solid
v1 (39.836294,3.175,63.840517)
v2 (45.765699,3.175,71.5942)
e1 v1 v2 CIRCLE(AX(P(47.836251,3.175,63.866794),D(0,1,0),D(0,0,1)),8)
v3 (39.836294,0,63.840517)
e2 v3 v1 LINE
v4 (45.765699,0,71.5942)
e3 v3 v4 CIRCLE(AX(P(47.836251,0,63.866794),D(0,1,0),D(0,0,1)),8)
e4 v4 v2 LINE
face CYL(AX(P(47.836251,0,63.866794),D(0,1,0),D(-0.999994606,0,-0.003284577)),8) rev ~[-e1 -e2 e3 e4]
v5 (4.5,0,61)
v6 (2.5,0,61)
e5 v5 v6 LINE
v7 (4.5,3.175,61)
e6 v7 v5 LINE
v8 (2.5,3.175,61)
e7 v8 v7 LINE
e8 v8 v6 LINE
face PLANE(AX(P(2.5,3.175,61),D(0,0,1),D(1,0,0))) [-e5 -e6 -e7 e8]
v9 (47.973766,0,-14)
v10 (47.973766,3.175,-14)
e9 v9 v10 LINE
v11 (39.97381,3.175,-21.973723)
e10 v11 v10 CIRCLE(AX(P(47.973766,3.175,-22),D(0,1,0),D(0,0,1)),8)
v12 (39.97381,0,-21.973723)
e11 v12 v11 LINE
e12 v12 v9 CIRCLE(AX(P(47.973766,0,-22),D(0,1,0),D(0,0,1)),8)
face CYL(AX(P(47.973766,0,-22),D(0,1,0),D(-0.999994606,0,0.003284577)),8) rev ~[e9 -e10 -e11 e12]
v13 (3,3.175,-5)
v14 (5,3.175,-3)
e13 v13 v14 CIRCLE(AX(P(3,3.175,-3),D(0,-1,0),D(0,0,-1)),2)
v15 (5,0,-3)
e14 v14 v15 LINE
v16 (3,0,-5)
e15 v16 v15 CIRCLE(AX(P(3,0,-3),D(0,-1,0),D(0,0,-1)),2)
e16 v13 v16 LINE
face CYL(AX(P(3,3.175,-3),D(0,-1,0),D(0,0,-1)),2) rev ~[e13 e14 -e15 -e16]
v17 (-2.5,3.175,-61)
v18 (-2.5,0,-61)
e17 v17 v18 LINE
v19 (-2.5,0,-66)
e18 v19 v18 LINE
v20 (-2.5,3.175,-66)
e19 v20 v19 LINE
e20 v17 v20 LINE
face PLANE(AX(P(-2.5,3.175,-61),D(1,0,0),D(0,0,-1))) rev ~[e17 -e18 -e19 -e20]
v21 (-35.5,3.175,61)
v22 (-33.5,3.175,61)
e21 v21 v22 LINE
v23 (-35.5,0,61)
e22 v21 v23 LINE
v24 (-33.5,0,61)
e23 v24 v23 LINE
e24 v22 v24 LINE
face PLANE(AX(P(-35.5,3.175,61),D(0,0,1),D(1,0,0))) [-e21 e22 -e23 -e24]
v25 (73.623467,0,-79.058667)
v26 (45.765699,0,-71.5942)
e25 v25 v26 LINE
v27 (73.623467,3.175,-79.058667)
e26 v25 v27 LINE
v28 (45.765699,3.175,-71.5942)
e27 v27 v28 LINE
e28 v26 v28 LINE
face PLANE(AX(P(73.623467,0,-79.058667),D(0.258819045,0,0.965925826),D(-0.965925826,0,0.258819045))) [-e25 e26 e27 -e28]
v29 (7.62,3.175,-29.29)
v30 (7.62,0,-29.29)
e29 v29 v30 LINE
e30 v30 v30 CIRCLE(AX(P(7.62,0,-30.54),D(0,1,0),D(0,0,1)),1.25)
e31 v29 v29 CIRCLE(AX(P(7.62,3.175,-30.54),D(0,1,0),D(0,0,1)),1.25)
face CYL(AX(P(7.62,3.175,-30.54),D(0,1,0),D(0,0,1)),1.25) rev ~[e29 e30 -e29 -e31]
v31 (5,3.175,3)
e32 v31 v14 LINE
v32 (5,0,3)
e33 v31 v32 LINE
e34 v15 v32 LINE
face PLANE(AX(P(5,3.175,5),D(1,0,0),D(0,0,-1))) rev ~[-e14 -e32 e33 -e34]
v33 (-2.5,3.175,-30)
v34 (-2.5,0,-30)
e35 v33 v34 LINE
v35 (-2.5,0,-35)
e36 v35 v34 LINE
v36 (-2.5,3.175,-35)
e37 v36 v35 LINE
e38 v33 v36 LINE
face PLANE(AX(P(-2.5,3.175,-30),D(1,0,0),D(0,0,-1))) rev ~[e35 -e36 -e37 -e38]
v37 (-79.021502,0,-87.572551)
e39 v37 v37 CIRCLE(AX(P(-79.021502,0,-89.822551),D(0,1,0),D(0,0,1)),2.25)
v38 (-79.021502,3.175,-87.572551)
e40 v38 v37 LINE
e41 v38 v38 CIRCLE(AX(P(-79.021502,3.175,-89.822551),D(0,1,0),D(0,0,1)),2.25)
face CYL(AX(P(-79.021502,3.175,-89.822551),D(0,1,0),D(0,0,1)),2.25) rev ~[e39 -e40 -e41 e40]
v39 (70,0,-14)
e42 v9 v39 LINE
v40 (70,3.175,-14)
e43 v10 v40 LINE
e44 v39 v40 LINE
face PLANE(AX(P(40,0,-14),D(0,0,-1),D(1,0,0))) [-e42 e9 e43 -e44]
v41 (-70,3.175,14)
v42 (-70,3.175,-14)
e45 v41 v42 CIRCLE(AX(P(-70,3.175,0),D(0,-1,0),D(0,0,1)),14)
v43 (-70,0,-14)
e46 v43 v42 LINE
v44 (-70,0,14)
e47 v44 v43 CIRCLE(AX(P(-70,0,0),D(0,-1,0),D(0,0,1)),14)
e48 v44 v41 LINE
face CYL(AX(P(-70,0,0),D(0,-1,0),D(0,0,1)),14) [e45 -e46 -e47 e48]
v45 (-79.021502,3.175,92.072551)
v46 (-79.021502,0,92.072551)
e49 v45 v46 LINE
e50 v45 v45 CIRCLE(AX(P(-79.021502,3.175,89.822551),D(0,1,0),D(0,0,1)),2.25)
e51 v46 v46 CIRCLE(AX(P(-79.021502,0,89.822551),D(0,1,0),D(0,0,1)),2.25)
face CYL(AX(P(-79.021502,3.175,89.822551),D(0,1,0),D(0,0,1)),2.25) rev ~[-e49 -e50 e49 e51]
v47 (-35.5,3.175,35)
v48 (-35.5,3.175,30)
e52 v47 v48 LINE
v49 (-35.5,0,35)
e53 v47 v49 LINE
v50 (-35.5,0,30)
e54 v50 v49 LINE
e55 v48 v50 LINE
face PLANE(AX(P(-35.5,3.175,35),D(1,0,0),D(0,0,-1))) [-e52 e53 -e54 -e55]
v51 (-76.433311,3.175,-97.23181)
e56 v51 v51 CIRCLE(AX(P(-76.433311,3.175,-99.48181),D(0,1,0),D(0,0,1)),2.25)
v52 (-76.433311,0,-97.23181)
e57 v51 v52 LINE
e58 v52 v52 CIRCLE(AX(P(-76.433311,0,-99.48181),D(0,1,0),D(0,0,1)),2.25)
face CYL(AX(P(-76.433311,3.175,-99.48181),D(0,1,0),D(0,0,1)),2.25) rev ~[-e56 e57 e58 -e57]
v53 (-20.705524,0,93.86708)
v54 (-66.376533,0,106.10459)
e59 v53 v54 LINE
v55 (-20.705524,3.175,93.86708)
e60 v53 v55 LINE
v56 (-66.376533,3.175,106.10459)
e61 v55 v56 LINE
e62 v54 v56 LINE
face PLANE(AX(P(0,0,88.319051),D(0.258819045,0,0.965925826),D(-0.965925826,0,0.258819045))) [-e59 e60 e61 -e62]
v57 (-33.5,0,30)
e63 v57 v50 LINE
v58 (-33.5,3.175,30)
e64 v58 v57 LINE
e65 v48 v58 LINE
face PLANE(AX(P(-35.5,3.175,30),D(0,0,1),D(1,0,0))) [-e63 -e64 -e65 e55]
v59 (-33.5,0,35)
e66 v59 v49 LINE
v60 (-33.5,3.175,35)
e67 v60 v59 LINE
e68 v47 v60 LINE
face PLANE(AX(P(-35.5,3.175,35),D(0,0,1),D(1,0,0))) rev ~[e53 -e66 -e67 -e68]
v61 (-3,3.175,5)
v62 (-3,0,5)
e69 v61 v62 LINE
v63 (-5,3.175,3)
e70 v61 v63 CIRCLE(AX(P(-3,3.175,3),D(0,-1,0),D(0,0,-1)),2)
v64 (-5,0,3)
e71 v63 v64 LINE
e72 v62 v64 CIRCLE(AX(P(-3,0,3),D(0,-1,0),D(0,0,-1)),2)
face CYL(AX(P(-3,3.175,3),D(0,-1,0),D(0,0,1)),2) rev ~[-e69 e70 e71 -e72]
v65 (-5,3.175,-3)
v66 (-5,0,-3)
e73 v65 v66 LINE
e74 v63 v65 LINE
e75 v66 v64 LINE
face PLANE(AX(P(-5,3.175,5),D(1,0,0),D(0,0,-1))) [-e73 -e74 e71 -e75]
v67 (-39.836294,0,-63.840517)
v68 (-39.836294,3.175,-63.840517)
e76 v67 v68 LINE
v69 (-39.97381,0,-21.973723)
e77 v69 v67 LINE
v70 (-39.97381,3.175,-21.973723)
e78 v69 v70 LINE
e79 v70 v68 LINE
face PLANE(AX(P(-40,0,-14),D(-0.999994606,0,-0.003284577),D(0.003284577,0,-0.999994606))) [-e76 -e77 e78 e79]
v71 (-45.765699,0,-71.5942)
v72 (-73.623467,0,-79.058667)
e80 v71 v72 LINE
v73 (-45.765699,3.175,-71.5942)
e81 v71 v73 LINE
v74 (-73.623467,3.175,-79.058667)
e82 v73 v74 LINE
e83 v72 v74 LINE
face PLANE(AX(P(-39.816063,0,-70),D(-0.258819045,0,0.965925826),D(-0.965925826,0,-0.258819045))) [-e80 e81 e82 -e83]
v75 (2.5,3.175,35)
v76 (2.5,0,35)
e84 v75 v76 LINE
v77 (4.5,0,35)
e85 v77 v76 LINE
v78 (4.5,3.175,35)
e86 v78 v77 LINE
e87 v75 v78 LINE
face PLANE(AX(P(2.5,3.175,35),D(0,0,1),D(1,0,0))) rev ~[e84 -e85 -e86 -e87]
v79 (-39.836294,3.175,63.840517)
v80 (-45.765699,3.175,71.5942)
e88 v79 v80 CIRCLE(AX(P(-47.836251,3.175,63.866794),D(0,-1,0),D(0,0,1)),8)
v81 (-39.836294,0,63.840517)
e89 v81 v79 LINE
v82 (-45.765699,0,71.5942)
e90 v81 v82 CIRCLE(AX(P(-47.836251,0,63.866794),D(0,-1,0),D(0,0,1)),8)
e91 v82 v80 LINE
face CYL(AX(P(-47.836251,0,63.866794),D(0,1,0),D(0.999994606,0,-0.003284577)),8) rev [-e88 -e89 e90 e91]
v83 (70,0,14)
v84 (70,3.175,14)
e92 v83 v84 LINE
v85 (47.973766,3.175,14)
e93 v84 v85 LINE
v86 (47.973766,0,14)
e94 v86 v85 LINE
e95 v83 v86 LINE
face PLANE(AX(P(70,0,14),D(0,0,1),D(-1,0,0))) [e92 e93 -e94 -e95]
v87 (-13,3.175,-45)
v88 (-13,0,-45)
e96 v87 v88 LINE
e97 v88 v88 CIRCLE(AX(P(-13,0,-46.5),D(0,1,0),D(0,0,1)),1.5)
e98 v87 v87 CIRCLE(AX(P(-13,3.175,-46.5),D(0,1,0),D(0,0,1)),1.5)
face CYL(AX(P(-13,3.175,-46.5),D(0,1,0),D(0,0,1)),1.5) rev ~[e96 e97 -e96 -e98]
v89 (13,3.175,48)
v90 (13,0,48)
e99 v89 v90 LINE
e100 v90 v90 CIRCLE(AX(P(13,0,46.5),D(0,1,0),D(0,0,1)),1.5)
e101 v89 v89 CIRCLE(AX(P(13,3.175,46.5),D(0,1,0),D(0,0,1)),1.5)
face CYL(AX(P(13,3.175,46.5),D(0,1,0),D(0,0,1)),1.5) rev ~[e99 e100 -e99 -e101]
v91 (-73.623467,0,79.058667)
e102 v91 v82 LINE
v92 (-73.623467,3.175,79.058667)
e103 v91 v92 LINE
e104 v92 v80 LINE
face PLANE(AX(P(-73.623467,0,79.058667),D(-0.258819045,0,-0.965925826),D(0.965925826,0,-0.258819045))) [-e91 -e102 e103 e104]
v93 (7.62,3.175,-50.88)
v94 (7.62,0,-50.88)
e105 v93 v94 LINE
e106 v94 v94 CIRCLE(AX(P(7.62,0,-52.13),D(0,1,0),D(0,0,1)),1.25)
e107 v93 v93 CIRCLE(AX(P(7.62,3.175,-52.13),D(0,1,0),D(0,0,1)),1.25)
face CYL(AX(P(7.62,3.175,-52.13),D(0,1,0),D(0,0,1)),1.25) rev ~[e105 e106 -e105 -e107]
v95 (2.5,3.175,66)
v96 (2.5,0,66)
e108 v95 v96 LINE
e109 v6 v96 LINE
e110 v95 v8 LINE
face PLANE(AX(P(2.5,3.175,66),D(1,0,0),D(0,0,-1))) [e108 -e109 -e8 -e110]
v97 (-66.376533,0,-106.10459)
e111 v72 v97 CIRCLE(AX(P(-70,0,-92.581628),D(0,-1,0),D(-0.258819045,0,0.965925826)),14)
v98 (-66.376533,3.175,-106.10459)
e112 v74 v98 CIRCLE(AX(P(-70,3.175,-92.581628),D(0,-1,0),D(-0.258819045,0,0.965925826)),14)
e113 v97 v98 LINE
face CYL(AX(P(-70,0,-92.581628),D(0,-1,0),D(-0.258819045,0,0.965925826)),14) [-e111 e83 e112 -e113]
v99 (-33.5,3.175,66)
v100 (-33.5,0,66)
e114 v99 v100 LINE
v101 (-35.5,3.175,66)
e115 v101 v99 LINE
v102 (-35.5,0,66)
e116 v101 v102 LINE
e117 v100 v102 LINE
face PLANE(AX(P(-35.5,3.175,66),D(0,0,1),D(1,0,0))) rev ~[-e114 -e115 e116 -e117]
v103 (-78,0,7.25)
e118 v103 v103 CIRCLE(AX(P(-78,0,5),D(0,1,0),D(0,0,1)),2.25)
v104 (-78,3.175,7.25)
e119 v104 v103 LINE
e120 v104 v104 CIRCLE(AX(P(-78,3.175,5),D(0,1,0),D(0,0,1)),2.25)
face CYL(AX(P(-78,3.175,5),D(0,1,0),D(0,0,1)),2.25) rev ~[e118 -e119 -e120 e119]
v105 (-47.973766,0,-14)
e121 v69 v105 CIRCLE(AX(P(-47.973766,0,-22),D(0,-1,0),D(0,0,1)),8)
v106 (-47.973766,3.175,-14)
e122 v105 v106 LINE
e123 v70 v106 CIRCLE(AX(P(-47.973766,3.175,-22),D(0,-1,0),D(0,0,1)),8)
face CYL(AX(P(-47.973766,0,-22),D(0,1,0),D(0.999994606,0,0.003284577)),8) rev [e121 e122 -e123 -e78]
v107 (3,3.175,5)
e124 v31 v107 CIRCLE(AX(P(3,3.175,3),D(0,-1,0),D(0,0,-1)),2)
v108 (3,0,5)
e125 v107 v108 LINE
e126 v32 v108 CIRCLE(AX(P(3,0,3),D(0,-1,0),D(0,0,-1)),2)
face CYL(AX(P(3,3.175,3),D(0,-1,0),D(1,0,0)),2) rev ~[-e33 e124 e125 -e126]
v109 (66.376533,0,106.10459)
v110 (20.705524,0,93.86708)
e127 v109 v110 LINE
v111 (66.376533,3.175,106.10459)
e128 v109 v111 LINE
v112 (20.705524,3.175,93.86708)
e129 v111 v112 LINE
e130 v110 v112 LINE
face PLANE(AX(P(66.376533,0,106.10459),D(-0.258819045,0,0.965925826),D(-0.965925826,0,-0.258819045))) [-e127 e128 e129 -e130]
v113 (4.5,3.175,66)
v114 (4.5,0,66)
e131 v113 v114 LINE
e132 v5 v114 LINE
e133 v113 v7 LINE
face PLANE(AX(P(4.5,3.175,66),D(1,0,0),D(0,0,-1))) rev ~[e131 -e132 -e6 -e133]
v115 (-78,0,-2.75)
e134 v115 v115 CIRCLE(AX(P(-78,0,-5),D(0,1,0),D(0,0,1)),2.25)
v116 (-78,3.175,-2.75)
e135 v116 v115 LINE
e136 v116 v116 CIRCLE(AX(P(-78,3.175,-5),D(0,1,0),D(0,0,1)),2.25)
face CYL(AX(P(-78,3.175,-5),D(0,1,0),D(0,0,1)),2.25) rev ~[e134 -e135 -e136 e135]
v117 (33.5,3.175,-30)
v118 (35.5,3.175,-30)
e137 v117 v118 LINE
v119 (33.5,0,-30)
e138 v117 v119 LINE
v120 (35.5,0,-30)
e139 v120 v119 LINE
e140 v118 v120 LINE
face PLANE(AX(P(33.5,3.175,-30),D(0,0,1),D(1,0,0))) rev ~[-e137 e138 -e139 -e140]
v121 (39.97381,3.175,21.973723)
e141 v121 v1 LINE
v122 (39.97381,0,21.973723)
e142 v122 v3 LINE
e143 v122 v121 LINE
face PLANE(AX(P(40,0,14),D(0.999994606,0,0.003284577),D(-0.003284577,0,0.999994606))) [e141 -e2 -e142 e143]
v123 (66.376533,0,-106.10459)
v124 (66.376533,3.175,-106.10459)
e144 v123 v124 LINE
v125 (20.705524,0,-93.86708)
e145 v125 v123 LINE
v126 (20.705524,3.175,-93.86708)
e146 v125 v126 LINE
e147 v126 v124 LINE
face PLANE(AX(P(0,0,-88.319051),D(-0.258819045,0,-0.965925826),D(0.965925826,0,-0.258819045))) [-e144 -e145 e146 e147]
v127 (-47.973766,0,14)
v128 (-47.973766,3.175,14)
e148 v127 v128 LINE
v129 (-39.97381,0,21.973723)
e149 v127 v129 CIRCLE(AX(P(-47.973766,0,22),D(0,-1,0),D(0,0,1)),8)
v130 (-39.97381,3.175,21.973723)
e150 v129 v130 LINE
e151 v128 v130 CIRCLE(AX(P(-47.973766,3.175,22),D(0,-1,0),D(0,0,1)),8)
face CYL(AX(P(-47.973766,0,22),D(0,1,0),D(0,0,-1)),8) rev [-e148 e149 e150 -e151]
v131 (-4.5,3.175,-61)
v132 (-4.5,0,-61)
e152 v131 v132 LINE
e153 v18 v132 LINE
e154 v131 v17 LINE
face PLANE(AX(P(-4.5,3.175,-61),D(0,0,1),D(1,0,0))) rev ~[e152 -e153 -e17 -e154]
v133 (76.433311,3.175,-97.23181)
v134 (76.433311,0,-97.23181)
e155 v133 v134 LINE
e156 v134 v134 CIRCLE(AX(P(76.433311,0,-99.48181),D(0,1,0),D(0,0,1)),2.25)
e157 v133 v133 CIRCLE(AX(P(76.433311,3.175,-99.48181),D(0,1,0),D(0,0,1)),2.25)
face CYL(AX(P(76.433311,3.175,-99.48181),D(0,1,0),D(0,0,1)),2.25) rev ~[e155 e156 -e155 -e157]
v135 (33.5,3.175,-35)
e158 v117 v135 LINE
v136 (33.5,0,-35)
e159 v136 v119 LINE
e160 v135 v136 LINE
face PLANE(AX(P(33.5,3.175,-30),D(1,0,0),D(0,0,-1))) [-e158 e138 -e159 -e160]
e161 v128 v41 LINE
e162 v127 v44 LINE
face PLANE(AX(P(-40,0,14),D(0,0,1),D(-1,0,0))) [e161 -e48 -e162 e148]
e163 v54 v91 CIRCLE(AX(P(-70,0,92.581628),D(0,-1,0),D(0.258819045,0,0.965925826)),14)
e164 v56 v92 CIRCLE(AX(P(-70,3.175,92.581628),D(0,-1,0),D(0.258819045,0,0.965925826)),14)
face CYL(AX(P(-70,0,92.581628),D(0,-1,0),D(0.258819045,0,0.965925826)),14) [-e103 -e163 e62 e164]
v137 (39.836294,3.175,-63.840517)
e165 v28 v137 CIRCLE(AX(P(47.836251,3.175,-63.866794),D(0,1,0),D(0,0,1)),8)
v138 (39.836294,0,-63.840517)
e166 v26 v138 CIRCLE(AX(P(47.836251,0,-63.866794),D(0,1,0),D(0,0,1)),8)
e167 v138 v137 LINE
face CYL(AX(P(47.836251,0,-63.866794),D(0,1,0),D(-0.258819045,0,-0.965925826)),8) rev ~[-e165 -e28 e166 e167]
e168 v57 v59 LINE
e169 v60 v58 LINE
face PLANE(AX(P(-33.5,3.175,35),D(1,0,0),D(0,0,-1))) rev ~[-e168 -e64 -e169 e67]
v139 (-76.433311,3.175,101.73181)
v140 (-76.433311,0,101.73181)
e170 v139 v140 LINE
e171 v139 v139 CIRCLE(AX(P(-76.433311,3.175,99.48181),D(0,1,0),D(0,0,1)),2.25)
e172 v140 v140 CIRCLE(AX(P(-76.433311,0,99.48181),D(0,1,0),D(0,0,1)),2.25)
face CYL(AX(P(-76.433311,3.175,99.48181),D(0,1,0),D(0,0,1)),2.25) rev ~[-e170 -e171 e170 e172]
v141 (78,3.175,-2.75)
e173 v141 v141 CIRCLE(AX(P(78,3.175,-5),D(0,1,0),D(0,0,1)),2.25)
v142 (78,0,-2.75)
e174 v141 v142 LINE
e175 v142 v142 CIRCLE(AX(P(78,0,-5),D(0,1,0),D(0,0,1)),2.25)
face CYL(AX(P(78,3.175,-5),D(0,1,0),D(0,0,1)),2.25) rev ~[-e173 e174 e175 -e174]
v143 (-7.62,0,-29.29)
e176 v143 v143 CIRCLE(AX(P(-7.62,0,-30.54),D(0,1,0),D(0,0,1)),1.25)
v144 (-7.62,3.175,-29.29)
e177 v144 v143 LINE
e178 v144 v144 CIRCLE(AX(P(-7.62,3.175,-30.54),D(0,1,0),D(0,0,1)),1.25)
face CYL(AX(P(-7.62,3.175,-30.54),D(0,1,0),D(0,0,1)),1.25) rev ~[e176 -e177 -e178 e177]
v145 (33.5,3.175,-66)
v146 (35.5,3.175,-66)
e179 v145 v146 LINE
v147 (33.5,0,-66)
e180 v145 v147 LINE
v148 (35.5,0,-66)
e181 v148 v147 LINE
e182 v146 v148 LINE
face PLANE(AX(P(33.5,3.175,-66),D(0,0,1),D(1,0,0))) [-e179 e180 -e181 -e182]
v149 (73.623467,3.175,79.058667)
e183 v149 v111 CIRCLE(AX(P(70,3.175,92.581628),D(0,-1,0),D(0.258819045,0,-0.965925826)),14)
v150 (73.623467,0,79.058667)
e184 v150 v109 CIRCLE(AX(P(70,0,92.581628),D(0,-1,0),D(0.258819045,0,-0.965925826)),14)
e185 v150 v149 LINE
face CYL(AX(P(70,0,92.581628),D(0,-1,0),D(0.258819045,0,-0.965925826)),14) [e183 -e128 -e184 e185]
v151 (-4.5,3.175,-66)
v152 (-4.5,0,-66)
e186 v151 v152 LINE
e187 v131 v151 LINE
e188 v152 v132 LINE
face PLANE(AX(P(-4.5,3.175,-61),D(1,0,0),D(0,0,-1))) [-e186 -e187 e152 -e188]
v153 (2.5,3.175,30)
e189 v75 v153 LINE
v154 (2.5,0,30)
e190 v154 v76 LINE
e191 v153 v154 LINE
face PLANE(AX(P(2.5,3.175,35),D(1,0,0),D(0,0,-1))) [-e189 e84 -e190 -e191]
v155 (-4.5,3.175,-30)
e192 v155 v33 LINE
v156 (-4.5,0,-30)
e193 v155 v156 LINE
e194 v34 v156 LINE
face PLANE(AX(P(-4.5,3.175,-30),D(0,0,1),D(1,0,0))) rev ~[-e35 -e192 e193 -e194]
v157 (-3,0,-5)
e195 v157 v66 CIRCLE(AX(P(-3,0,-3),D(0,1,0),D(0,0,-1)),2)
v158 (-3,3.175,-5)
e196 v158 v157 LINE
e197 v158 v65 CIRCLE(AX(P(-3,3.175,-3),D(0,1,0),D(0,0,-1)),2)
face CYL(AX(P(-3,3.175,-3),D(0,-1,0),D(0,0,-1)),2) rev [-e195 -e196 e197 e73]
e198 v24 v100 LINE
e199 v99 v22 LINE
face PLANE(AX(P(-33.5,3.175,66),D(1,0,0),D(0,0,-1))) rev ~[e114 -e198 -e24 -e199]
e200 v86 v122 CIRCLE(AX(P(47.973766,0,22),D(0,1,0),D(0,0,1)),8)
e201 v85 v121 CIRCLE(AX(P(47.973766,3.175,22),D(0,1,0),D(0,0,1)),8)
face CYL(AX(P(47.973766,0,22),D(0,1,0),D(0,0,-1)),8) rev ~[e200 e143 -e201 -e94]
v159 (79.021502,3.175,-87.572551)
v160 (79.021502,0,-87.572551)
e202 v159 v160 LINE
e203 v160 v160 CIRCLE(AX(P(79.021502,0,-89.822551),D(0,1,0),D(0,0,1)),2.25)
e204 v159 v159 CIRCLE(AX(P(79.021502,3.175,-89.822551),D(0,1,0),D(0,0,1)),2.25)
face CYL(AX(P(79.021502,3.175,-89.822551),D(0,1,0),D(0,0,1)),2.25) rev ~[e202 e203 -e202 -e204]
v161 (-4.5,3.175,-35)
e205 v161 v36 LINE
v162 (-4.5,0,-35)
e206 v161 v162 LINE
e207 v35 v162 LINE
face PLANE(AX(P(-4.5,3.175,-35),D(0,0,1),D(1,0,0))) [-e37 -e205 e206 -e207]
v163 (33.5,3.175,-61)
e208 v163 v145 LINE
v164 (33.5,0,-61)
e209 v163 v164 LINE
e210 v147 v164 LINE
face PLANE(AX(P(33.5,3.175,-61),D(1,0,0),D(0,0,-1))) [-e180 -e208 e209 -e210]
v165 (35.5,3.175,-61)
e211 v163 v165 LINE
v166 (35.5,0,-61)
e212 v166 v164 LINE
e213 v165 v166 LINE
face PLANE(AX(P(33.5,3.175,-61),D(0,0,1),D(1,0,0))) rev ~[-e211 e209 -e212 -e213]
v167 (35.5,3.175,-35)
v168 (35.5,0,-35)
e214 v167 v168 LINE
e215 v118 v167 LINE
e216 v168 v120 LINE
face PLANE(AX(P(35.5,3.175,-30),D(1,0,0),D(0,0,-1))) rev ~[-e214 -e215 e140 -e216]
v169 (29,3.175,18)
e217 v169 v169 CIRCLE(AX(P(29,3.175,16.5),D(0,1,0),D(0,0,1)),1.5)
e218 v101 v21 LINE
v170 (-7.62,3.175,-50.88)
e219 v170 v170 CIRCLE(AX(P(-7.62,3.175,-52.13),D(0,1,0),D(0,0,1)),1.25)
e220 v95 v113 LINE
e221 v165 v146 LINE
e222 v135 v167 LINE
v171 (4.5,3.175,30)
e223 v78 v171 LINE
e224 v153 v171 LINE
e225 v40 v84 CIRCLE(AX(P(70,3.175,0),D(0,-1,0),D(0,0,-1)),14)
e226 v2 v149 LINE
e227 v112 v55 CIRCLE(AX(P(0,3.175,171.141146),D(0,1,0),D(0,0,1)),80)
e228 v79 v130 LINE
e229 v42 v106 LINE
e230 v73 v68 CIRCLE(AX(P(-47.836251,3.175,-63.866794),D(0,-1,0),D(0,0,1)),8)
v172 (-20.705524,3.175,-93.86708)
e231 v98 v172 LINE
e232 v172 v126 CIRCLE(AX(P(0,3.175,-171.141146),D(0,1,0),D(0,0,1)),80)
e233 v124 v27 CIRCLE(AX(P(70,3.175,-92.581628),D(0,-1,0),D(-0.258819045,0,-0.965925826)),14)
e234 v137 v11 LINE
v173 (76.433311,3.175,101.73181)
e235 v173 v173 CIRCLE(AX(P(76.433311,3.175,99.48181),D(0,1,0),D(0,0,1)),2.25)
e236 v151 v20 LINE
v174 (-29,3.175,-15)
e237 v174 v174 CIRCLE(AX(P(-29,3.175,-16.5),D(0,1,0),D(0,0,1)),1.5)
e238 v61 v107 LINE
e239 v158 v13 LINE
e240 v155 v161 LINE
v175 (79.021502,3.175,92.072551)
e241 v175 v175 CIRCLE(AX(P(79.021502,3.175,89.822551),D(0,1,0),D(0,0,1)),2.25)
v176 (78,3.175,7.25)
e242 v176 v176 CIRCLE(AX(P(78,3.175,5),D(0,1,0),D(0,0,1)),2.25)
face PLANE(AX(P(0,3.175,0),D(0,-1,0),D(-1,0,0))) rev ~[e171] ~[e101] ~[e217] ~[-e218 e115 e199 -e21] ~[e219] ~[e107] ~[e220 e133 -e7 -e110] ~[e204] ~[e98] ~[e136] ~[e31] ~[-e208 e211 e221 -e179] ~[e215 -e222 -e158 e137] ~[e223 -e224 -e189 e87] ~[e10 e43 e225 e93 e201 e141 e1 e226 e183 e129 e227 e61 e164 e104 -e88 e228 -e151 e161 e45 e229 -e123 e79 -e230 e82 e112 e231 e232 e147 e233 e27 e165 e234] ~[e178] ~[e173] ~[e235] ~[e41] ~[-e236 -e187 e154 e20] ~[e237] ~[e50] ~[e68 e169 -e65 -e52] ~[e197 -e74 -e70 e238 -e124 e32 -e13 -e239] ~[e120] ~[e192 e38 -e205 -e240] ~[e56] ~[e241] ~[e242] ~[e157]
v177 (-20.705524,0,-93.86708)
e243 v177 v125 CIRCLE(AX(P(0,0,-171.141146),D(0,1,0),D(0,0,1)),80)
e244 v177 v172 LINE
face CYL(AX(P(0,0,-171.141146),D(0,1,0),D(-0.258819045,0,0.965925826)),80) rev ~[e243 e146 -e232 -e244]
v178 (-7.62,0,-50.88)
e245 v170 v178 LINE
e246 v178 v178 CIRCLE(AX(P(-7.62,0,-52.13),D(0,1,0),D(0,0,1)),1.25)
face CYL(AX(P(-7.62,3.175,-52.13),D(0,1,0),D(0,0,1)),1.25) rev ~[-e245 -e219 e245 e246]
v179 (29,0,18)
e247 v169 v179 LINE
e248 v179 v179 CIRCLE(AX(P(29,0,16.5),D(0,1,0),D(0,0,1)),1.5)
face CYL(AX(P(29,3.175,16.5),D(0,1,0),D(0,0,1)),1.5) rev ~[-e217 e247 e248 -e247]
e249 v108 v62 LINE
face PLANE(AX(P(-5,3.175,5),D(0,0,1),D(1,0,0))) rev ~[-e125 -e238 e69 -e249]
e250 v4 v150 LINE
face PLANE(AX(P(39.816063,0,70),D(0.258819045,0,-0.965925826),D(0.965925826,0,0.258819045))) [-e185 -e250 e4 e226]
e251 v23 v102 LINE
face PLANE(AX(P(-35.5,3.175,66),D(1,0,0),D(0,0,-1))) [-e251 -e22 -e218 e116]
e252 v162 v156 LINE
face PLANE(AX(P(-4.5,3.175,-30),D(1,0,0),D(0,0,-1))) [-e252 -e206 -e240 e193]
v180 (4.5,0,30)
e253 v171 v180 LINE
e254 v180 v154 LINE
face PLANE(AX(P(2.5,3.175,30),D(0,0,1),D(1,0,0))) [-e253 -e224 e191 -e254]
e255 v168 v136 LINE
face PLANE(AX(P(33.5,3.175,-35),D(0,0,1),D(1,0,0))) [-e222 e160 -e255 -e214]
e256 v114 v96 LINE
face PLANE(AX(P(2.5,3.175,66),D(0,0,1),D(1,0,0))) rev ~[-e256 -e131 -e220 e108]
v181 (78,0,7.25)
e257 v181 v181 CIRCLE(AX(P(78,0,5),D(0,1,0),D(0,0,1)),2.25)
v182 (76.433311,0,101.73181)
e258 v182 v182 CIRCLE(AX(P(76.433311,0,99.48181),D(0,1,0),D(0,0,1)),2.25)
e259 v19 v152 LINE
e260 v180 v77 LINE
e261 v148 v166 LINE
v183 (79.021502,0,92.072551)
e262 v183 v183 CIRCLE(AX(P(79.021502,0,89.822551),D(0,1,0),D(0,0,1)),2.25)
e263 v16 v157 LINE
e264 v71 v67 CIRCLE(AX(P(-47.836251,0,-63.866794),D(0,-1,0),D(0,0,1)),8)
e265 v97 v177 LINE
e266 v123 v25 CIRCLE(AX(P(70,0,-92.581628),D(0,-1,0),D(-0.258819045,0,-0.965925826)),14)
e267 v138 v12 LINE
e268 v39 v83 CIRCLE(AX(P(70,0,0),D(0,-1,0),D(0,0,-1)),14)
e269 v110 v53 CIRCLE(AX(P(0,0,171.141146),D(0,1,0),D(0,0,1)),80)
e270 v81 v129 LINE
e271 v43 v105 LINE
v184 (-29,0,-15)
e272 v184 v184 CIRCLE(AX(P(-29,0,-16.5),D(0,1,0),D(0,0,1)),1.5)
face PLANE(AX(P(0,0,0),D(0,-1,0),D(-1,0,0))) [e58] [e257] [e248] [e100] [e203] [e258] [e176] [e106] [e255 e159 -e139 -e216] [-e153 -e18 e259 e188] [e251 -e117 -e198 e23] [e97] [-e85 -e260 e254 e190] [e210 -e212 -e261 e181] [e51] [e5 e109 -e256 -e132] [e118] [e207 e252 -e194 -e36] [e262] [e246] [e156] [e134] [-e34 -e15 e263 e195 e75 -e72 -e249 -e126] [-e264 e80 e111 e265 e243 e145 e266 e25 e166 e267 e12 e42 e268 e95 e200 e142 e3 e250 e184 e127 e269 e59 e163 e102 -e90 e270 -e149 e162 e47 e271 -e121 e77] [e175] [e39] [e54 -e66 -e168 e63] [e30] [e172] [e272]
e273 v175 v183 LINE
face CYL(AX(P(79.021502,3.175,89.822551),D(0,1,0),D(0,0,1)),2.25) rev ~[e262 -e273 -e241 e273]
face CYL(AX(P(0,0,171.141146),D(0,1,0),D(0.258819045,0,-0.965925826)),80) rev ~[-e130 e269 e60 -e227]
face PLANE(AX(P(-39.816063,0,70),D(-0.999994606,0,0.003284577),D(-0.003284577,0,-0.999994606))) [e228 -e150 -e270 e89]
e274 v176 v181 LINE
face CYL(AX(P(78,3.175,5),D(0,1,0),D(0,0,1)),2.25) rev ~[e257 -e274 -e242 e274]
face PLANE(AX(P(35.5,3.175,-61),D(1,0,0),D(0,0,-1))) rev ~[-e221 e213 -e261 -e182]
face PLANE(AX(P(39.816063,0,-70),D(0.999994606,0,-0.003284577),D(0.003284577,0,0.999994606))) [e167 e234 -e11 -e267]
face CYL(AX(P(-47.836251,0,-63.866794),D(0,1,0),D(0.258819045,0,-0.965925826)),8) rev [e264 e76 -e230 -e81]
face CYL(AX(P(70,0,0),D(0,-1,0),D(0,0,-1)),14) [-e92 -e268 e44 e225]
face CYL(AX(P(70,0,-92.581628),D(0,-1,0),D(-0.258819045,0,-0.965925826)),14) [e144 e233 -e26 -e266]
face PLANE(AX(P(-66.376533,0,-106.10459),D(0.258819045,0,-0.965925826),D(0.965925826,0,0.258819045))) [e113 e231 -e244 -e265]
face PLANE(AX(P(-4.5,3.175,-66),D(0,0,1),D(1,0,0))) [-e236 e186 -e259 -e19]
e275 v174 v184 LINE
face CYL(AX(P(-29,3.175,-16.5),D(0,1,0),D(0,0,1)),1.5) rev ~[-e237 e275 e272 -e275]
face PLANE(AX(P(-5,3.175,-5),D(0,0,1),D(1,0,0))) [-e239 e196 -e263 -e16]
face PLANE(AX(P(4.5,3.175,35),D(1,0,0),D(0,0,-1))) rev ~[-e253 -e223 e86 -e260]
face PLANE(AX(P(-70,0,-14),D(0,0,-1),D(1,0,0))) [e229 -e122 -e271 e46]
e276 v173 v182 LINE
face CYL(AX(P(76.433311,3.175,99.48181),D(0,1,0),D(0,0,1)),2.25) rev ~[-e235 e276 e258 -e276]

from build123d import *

# Parameters (mm, degrees)
BOSS_EXTRUDE1_DEPTH = 3.175
FILLET1_R           = 80
FILLET2_R           = 8
SKETCH7_R           = 2.25
CUT_EXTRUDE4_DEPTH  = 10
CUT_EXTRUDE5_DEPTH  = 10
SKETCH9_W           = 10
SKETCH9_H           = 10
CUT_EXTRUDE6_DEPTH  = 10
FILLET3_R           = 2
SKETCH12_W          = 2
SKETCH12_H          = 5
CUT_EXTRUDE7_DEPTH  = 10
SKETCH13_R          = 1.25
CUT_EXTRUDE8_DEPTH  = 10


with BuildPart() as part:
    # Sketch1 → Boss-Extrude1 (new body)
    with BuildSketch(Plane(origin=(0, 0, 0), x_dir=(1, 0, 0), z_dir=(0, 1, 0))):
        with BuildLine():
            Line((-70, 14), (-40, 14))
            Line((-40, 14), (-39.816062711, 70))
            Line((-39.816062711, 70), (-73.623466631, 79.058666579))
            ThreePointArc((-73.623466631, 79.058666579), (-83.522961568, 96.205094778), (-66.376533369, 106.104589715))
            Line((-66.376533369, 106.104589715), (0, 88.319051202))
            Line((0, 88.319051202), (66.376533369, 106.104589715))
            ThreePointArc((66.376533369, 106.104589715), (83.522961568, 96.205094778), (73.623466631, 79.058666579))
            Line((73.623466631, 79.058666579), (39.816062711, 70))
            Line((39.816062711, 70), (40, 14))
            Line((40, 14), (70, 14))
            ThreePointArc((70, 14), (84, 0), (70, -14))
            Line((70, -14), (40, -14))
            Line((40, -14), (39.816062711, -70))
            Line((39.816062711, -70), (73.623466631, -79.058666579))
            ThreePointArc((73.623466631, -79.058666579), (83.522961568, -96.205094778), (66.376533369, -106.104589715))
            Line((66.376533369, -106.104589715), (0, -88.319051202))
            Line((0, -88.319051202), (-66.376533369, -106.104589715))
            ThreePointArc((-66.376533369, -106.104589715), (-83.522961568, -96.205094778), (-73.623466631, -79.058666579))
            Line((-73.623466631, -79.058666579), (-39.816062711, -70))
            Line((-39.816062711, -70), (-40, -14))
            Line((-40, -14), (-70, -14))
            ThreePointArc((-70, -14), (-84, 0), (-70, 14))
        make_face()
    extrude(amount=BOSS_EXTRUDE1_DEPTH)

    # Fillet1
    fillet1_edges = [part.edges().sort_by_distance(p)[0] for p in [
        (0, 1.5875, -88.319051202),
        (0, 1.5875, 88.319051202),
    ]]
    fillet(fillet1_edges, radius=FILLET1_R)

    # Fillet2
    fillet2_edges = [part.edges().sort_by_distance(p)[0] for p in [
        (-40, 1.5875, -14),
        (-39.816062711, 1.5875, -70),
        (39.816062711, 1.5875, -70),
        (40, 1.5875, -14),
        (40, 1.5875, 14),
        (39.816062711, 1.5875, 70),
        (-39.816062711, 1.5875, 70),
        (-40, 1.5875, 14),
    ]]
    fillet(fillet2_edges, radius=FILLET2_R)

    # Sketch7 → Cut-Extrude4 (cut)
    with BuildSketch(Plane(origin=(0, 3.175, 0), x_dir=(1, 0, 0), z_dir=(0, 1, 0))):
        with Locations(Location((-76.433311385, -99.481809639, 0), (0, 0, 270))):
            Circle(SKETCH7_R)
        with Locations(Location((-79.021501836, -89.822551376, 0), (0, 0, 270))):
            Circle(SKETCH7_R)
        with Locations(Location((-78, -5, 0), (0, 0, 270))):
            Circle(SKETCH7_R)
        with Locations(Location((-78, 5, 0), (0, 0, 270))):
            Circle(SKETCH7_R)
        with Locations(Location((-79.021501836, 89.822551376, 0), (0, 0, 270))):
            Circle(SKETCH7_R)
        with Locations(Location((-76.433311385, 99.481809639, 0), (0, 0, 270))):
            Circle(SKETCH7_R)
        with Locations(Location((79.021501836, 89.822551376, 0), (0, 0, 270))):
            Circle(SKETCH7_R)
        with Locations(Location((76.433311385, 99.481809639, 0), (0, 0, 270))):
            Circle(SKETCH7_R)
        with Locations(Location((78, -5, 0), (0, 0, 270))):
            Circle(SKETCH7_R)
        with Locations(Location((78, 5, 0), (0, 0, 270))):
            Circle(SKETCH7_R)
        with Locations(Location((79.021501836, -89.822551376, 0), (0, 0, 270))):
            Circle(SKETCH7_R)
        with Locations(Location((76.433311385, -99.481809639, 0), (0, 0, 270))):
            Circle(SKETCH7_R)
    extrude(amount=-CUT_EXTRUDE4_DEPTH, mode=Mode.SUBTRACT)

    # Sketch8 → Cut-Extrude5 (cut)
    with BuildSketch(Plane(origin=(0, 3.175, 0), x_dir=(1, 0, 0), z_dir=(0, 1, 0))):
        with BuildLine():
            ThreePointArc((13, -45), (11.5, -46.5), (13, -48))
            ThreePointArc((13, -48), (14.5, -46.5), (13, -45))
        make_face()
        with BuildLine():
            ThreePointArc((29, -15), (27.5, -16.5), (29, -18))
            ThreePointArc((29, -18), (30.5, -16.5), (29, -15))
        make_face()
        with BuildLine():
            ThreePointArc((-13, 48), (-14.5, 46.5), (-13, 45))
            ThreePointArc((-13, 45), (-11.5, 46.5), (-13, 48))
        make_face()
        with BuildLine():
            ThreePointArc((-29, 18), (-30.5, 16.5), (-29, 15))
            ThreePointArc((-29, 15), (-27.5, 16.5), (-29, 18))
        make_face()
    extrude(amount=-CUT_EXTRUDE5_DEPTH, mode=Mode.SUBTRACT)

    # Sketch9 → Cut-Extrude6 (cut)
    with BuildSketch(Plane(origin=(0, 3.175, 0), x_dir=(1, 0, 0), z_dir=(0, 1, 0))):
        Rectangle(SKETCH9_W, SKETCH9_H)
    extrude(amount=-CUT_EXTRUDE6_DEPTH, mode=Mode.SUBTRACT)

    # Fillet3
    fillet3_edges = [part.edges().sort_by_distance(p)[0] for p in [
        (-5, 1.5875, 5),
        (-5, 1.5875, -5),
        (5, 1.5875, -5),
        (5, 1.5875, 5),
    ]]
    fillet(fillet3_edges, radius=FILLET3_R)

    # Sketch12 → Cut-Extrude7 (cut)
    with BuildSketch(Plane(origin=(0, 3.175, 0), x_dir=(1, 0, 0), z_dir=(0, 1, 0))):
        with Locations((-34.5, -32.5)):
            Rectangle(SKETCH12_W, SKETCH12_H)
        with Locations((-34.5, -63.5)):
            Rectangle(SKETCH12_W, SKETCH12_H)
        with Locations((3.5, -63.5)):
            Rectangle(SKETCH12_W, SKETCH12_H)
        with Locations((3.5, -32.5)):
            Rectangle(SKETCH12_W, SKETCH12_H)
        with Locations((-3.5, 63.5)):
            Rectangle(SKETCH12_W, SKETCH12_H)
        with Locations((-3.5, 32.5)):
            Rectangle(SKETCH12_W, SKETCH12_H)
        with Locations((34.5, 32.5)):
            Rectangle(SKETCH12_W, SKETCH12_H)
        with Locations((34.5, 63.5)):
            Rectangle(SKETCH12_W, SKETCH12_H)
    extrude(amount=-CUT_EXTRUDE7_DEPTH, mode=Mode.SUBTRACT)

    # Sketch13 → Cut-Extrude8 (cut)
    with BuildSketch(Plane(origin=(0, 3.175, 0), x_dir=(1, 0, 0), z_dir=(0, 1, 0))):
        with Locations(Location((-7.62, 30.54, 0), (0, 0, 270))):
            Circle(SKETCH13_R)
        with Locations(Location((-7.62, 52.13, 0), (0, 0, 270))):
            Circle(SKETCH13_R)
        with Locations(Location((7.62, 52.13, 0), (0, 0, 270))):
            Circle(SKETCH13_R)
        with Locations(Location((7.62, 30.54, 0), (0, 0, 270))):
            Circle(SKETCH13_R)
    extrude(amount=-CUT_EXTRUDE8_DEPTH, mode=Mode.SUBTRACT)


solid = part.part
